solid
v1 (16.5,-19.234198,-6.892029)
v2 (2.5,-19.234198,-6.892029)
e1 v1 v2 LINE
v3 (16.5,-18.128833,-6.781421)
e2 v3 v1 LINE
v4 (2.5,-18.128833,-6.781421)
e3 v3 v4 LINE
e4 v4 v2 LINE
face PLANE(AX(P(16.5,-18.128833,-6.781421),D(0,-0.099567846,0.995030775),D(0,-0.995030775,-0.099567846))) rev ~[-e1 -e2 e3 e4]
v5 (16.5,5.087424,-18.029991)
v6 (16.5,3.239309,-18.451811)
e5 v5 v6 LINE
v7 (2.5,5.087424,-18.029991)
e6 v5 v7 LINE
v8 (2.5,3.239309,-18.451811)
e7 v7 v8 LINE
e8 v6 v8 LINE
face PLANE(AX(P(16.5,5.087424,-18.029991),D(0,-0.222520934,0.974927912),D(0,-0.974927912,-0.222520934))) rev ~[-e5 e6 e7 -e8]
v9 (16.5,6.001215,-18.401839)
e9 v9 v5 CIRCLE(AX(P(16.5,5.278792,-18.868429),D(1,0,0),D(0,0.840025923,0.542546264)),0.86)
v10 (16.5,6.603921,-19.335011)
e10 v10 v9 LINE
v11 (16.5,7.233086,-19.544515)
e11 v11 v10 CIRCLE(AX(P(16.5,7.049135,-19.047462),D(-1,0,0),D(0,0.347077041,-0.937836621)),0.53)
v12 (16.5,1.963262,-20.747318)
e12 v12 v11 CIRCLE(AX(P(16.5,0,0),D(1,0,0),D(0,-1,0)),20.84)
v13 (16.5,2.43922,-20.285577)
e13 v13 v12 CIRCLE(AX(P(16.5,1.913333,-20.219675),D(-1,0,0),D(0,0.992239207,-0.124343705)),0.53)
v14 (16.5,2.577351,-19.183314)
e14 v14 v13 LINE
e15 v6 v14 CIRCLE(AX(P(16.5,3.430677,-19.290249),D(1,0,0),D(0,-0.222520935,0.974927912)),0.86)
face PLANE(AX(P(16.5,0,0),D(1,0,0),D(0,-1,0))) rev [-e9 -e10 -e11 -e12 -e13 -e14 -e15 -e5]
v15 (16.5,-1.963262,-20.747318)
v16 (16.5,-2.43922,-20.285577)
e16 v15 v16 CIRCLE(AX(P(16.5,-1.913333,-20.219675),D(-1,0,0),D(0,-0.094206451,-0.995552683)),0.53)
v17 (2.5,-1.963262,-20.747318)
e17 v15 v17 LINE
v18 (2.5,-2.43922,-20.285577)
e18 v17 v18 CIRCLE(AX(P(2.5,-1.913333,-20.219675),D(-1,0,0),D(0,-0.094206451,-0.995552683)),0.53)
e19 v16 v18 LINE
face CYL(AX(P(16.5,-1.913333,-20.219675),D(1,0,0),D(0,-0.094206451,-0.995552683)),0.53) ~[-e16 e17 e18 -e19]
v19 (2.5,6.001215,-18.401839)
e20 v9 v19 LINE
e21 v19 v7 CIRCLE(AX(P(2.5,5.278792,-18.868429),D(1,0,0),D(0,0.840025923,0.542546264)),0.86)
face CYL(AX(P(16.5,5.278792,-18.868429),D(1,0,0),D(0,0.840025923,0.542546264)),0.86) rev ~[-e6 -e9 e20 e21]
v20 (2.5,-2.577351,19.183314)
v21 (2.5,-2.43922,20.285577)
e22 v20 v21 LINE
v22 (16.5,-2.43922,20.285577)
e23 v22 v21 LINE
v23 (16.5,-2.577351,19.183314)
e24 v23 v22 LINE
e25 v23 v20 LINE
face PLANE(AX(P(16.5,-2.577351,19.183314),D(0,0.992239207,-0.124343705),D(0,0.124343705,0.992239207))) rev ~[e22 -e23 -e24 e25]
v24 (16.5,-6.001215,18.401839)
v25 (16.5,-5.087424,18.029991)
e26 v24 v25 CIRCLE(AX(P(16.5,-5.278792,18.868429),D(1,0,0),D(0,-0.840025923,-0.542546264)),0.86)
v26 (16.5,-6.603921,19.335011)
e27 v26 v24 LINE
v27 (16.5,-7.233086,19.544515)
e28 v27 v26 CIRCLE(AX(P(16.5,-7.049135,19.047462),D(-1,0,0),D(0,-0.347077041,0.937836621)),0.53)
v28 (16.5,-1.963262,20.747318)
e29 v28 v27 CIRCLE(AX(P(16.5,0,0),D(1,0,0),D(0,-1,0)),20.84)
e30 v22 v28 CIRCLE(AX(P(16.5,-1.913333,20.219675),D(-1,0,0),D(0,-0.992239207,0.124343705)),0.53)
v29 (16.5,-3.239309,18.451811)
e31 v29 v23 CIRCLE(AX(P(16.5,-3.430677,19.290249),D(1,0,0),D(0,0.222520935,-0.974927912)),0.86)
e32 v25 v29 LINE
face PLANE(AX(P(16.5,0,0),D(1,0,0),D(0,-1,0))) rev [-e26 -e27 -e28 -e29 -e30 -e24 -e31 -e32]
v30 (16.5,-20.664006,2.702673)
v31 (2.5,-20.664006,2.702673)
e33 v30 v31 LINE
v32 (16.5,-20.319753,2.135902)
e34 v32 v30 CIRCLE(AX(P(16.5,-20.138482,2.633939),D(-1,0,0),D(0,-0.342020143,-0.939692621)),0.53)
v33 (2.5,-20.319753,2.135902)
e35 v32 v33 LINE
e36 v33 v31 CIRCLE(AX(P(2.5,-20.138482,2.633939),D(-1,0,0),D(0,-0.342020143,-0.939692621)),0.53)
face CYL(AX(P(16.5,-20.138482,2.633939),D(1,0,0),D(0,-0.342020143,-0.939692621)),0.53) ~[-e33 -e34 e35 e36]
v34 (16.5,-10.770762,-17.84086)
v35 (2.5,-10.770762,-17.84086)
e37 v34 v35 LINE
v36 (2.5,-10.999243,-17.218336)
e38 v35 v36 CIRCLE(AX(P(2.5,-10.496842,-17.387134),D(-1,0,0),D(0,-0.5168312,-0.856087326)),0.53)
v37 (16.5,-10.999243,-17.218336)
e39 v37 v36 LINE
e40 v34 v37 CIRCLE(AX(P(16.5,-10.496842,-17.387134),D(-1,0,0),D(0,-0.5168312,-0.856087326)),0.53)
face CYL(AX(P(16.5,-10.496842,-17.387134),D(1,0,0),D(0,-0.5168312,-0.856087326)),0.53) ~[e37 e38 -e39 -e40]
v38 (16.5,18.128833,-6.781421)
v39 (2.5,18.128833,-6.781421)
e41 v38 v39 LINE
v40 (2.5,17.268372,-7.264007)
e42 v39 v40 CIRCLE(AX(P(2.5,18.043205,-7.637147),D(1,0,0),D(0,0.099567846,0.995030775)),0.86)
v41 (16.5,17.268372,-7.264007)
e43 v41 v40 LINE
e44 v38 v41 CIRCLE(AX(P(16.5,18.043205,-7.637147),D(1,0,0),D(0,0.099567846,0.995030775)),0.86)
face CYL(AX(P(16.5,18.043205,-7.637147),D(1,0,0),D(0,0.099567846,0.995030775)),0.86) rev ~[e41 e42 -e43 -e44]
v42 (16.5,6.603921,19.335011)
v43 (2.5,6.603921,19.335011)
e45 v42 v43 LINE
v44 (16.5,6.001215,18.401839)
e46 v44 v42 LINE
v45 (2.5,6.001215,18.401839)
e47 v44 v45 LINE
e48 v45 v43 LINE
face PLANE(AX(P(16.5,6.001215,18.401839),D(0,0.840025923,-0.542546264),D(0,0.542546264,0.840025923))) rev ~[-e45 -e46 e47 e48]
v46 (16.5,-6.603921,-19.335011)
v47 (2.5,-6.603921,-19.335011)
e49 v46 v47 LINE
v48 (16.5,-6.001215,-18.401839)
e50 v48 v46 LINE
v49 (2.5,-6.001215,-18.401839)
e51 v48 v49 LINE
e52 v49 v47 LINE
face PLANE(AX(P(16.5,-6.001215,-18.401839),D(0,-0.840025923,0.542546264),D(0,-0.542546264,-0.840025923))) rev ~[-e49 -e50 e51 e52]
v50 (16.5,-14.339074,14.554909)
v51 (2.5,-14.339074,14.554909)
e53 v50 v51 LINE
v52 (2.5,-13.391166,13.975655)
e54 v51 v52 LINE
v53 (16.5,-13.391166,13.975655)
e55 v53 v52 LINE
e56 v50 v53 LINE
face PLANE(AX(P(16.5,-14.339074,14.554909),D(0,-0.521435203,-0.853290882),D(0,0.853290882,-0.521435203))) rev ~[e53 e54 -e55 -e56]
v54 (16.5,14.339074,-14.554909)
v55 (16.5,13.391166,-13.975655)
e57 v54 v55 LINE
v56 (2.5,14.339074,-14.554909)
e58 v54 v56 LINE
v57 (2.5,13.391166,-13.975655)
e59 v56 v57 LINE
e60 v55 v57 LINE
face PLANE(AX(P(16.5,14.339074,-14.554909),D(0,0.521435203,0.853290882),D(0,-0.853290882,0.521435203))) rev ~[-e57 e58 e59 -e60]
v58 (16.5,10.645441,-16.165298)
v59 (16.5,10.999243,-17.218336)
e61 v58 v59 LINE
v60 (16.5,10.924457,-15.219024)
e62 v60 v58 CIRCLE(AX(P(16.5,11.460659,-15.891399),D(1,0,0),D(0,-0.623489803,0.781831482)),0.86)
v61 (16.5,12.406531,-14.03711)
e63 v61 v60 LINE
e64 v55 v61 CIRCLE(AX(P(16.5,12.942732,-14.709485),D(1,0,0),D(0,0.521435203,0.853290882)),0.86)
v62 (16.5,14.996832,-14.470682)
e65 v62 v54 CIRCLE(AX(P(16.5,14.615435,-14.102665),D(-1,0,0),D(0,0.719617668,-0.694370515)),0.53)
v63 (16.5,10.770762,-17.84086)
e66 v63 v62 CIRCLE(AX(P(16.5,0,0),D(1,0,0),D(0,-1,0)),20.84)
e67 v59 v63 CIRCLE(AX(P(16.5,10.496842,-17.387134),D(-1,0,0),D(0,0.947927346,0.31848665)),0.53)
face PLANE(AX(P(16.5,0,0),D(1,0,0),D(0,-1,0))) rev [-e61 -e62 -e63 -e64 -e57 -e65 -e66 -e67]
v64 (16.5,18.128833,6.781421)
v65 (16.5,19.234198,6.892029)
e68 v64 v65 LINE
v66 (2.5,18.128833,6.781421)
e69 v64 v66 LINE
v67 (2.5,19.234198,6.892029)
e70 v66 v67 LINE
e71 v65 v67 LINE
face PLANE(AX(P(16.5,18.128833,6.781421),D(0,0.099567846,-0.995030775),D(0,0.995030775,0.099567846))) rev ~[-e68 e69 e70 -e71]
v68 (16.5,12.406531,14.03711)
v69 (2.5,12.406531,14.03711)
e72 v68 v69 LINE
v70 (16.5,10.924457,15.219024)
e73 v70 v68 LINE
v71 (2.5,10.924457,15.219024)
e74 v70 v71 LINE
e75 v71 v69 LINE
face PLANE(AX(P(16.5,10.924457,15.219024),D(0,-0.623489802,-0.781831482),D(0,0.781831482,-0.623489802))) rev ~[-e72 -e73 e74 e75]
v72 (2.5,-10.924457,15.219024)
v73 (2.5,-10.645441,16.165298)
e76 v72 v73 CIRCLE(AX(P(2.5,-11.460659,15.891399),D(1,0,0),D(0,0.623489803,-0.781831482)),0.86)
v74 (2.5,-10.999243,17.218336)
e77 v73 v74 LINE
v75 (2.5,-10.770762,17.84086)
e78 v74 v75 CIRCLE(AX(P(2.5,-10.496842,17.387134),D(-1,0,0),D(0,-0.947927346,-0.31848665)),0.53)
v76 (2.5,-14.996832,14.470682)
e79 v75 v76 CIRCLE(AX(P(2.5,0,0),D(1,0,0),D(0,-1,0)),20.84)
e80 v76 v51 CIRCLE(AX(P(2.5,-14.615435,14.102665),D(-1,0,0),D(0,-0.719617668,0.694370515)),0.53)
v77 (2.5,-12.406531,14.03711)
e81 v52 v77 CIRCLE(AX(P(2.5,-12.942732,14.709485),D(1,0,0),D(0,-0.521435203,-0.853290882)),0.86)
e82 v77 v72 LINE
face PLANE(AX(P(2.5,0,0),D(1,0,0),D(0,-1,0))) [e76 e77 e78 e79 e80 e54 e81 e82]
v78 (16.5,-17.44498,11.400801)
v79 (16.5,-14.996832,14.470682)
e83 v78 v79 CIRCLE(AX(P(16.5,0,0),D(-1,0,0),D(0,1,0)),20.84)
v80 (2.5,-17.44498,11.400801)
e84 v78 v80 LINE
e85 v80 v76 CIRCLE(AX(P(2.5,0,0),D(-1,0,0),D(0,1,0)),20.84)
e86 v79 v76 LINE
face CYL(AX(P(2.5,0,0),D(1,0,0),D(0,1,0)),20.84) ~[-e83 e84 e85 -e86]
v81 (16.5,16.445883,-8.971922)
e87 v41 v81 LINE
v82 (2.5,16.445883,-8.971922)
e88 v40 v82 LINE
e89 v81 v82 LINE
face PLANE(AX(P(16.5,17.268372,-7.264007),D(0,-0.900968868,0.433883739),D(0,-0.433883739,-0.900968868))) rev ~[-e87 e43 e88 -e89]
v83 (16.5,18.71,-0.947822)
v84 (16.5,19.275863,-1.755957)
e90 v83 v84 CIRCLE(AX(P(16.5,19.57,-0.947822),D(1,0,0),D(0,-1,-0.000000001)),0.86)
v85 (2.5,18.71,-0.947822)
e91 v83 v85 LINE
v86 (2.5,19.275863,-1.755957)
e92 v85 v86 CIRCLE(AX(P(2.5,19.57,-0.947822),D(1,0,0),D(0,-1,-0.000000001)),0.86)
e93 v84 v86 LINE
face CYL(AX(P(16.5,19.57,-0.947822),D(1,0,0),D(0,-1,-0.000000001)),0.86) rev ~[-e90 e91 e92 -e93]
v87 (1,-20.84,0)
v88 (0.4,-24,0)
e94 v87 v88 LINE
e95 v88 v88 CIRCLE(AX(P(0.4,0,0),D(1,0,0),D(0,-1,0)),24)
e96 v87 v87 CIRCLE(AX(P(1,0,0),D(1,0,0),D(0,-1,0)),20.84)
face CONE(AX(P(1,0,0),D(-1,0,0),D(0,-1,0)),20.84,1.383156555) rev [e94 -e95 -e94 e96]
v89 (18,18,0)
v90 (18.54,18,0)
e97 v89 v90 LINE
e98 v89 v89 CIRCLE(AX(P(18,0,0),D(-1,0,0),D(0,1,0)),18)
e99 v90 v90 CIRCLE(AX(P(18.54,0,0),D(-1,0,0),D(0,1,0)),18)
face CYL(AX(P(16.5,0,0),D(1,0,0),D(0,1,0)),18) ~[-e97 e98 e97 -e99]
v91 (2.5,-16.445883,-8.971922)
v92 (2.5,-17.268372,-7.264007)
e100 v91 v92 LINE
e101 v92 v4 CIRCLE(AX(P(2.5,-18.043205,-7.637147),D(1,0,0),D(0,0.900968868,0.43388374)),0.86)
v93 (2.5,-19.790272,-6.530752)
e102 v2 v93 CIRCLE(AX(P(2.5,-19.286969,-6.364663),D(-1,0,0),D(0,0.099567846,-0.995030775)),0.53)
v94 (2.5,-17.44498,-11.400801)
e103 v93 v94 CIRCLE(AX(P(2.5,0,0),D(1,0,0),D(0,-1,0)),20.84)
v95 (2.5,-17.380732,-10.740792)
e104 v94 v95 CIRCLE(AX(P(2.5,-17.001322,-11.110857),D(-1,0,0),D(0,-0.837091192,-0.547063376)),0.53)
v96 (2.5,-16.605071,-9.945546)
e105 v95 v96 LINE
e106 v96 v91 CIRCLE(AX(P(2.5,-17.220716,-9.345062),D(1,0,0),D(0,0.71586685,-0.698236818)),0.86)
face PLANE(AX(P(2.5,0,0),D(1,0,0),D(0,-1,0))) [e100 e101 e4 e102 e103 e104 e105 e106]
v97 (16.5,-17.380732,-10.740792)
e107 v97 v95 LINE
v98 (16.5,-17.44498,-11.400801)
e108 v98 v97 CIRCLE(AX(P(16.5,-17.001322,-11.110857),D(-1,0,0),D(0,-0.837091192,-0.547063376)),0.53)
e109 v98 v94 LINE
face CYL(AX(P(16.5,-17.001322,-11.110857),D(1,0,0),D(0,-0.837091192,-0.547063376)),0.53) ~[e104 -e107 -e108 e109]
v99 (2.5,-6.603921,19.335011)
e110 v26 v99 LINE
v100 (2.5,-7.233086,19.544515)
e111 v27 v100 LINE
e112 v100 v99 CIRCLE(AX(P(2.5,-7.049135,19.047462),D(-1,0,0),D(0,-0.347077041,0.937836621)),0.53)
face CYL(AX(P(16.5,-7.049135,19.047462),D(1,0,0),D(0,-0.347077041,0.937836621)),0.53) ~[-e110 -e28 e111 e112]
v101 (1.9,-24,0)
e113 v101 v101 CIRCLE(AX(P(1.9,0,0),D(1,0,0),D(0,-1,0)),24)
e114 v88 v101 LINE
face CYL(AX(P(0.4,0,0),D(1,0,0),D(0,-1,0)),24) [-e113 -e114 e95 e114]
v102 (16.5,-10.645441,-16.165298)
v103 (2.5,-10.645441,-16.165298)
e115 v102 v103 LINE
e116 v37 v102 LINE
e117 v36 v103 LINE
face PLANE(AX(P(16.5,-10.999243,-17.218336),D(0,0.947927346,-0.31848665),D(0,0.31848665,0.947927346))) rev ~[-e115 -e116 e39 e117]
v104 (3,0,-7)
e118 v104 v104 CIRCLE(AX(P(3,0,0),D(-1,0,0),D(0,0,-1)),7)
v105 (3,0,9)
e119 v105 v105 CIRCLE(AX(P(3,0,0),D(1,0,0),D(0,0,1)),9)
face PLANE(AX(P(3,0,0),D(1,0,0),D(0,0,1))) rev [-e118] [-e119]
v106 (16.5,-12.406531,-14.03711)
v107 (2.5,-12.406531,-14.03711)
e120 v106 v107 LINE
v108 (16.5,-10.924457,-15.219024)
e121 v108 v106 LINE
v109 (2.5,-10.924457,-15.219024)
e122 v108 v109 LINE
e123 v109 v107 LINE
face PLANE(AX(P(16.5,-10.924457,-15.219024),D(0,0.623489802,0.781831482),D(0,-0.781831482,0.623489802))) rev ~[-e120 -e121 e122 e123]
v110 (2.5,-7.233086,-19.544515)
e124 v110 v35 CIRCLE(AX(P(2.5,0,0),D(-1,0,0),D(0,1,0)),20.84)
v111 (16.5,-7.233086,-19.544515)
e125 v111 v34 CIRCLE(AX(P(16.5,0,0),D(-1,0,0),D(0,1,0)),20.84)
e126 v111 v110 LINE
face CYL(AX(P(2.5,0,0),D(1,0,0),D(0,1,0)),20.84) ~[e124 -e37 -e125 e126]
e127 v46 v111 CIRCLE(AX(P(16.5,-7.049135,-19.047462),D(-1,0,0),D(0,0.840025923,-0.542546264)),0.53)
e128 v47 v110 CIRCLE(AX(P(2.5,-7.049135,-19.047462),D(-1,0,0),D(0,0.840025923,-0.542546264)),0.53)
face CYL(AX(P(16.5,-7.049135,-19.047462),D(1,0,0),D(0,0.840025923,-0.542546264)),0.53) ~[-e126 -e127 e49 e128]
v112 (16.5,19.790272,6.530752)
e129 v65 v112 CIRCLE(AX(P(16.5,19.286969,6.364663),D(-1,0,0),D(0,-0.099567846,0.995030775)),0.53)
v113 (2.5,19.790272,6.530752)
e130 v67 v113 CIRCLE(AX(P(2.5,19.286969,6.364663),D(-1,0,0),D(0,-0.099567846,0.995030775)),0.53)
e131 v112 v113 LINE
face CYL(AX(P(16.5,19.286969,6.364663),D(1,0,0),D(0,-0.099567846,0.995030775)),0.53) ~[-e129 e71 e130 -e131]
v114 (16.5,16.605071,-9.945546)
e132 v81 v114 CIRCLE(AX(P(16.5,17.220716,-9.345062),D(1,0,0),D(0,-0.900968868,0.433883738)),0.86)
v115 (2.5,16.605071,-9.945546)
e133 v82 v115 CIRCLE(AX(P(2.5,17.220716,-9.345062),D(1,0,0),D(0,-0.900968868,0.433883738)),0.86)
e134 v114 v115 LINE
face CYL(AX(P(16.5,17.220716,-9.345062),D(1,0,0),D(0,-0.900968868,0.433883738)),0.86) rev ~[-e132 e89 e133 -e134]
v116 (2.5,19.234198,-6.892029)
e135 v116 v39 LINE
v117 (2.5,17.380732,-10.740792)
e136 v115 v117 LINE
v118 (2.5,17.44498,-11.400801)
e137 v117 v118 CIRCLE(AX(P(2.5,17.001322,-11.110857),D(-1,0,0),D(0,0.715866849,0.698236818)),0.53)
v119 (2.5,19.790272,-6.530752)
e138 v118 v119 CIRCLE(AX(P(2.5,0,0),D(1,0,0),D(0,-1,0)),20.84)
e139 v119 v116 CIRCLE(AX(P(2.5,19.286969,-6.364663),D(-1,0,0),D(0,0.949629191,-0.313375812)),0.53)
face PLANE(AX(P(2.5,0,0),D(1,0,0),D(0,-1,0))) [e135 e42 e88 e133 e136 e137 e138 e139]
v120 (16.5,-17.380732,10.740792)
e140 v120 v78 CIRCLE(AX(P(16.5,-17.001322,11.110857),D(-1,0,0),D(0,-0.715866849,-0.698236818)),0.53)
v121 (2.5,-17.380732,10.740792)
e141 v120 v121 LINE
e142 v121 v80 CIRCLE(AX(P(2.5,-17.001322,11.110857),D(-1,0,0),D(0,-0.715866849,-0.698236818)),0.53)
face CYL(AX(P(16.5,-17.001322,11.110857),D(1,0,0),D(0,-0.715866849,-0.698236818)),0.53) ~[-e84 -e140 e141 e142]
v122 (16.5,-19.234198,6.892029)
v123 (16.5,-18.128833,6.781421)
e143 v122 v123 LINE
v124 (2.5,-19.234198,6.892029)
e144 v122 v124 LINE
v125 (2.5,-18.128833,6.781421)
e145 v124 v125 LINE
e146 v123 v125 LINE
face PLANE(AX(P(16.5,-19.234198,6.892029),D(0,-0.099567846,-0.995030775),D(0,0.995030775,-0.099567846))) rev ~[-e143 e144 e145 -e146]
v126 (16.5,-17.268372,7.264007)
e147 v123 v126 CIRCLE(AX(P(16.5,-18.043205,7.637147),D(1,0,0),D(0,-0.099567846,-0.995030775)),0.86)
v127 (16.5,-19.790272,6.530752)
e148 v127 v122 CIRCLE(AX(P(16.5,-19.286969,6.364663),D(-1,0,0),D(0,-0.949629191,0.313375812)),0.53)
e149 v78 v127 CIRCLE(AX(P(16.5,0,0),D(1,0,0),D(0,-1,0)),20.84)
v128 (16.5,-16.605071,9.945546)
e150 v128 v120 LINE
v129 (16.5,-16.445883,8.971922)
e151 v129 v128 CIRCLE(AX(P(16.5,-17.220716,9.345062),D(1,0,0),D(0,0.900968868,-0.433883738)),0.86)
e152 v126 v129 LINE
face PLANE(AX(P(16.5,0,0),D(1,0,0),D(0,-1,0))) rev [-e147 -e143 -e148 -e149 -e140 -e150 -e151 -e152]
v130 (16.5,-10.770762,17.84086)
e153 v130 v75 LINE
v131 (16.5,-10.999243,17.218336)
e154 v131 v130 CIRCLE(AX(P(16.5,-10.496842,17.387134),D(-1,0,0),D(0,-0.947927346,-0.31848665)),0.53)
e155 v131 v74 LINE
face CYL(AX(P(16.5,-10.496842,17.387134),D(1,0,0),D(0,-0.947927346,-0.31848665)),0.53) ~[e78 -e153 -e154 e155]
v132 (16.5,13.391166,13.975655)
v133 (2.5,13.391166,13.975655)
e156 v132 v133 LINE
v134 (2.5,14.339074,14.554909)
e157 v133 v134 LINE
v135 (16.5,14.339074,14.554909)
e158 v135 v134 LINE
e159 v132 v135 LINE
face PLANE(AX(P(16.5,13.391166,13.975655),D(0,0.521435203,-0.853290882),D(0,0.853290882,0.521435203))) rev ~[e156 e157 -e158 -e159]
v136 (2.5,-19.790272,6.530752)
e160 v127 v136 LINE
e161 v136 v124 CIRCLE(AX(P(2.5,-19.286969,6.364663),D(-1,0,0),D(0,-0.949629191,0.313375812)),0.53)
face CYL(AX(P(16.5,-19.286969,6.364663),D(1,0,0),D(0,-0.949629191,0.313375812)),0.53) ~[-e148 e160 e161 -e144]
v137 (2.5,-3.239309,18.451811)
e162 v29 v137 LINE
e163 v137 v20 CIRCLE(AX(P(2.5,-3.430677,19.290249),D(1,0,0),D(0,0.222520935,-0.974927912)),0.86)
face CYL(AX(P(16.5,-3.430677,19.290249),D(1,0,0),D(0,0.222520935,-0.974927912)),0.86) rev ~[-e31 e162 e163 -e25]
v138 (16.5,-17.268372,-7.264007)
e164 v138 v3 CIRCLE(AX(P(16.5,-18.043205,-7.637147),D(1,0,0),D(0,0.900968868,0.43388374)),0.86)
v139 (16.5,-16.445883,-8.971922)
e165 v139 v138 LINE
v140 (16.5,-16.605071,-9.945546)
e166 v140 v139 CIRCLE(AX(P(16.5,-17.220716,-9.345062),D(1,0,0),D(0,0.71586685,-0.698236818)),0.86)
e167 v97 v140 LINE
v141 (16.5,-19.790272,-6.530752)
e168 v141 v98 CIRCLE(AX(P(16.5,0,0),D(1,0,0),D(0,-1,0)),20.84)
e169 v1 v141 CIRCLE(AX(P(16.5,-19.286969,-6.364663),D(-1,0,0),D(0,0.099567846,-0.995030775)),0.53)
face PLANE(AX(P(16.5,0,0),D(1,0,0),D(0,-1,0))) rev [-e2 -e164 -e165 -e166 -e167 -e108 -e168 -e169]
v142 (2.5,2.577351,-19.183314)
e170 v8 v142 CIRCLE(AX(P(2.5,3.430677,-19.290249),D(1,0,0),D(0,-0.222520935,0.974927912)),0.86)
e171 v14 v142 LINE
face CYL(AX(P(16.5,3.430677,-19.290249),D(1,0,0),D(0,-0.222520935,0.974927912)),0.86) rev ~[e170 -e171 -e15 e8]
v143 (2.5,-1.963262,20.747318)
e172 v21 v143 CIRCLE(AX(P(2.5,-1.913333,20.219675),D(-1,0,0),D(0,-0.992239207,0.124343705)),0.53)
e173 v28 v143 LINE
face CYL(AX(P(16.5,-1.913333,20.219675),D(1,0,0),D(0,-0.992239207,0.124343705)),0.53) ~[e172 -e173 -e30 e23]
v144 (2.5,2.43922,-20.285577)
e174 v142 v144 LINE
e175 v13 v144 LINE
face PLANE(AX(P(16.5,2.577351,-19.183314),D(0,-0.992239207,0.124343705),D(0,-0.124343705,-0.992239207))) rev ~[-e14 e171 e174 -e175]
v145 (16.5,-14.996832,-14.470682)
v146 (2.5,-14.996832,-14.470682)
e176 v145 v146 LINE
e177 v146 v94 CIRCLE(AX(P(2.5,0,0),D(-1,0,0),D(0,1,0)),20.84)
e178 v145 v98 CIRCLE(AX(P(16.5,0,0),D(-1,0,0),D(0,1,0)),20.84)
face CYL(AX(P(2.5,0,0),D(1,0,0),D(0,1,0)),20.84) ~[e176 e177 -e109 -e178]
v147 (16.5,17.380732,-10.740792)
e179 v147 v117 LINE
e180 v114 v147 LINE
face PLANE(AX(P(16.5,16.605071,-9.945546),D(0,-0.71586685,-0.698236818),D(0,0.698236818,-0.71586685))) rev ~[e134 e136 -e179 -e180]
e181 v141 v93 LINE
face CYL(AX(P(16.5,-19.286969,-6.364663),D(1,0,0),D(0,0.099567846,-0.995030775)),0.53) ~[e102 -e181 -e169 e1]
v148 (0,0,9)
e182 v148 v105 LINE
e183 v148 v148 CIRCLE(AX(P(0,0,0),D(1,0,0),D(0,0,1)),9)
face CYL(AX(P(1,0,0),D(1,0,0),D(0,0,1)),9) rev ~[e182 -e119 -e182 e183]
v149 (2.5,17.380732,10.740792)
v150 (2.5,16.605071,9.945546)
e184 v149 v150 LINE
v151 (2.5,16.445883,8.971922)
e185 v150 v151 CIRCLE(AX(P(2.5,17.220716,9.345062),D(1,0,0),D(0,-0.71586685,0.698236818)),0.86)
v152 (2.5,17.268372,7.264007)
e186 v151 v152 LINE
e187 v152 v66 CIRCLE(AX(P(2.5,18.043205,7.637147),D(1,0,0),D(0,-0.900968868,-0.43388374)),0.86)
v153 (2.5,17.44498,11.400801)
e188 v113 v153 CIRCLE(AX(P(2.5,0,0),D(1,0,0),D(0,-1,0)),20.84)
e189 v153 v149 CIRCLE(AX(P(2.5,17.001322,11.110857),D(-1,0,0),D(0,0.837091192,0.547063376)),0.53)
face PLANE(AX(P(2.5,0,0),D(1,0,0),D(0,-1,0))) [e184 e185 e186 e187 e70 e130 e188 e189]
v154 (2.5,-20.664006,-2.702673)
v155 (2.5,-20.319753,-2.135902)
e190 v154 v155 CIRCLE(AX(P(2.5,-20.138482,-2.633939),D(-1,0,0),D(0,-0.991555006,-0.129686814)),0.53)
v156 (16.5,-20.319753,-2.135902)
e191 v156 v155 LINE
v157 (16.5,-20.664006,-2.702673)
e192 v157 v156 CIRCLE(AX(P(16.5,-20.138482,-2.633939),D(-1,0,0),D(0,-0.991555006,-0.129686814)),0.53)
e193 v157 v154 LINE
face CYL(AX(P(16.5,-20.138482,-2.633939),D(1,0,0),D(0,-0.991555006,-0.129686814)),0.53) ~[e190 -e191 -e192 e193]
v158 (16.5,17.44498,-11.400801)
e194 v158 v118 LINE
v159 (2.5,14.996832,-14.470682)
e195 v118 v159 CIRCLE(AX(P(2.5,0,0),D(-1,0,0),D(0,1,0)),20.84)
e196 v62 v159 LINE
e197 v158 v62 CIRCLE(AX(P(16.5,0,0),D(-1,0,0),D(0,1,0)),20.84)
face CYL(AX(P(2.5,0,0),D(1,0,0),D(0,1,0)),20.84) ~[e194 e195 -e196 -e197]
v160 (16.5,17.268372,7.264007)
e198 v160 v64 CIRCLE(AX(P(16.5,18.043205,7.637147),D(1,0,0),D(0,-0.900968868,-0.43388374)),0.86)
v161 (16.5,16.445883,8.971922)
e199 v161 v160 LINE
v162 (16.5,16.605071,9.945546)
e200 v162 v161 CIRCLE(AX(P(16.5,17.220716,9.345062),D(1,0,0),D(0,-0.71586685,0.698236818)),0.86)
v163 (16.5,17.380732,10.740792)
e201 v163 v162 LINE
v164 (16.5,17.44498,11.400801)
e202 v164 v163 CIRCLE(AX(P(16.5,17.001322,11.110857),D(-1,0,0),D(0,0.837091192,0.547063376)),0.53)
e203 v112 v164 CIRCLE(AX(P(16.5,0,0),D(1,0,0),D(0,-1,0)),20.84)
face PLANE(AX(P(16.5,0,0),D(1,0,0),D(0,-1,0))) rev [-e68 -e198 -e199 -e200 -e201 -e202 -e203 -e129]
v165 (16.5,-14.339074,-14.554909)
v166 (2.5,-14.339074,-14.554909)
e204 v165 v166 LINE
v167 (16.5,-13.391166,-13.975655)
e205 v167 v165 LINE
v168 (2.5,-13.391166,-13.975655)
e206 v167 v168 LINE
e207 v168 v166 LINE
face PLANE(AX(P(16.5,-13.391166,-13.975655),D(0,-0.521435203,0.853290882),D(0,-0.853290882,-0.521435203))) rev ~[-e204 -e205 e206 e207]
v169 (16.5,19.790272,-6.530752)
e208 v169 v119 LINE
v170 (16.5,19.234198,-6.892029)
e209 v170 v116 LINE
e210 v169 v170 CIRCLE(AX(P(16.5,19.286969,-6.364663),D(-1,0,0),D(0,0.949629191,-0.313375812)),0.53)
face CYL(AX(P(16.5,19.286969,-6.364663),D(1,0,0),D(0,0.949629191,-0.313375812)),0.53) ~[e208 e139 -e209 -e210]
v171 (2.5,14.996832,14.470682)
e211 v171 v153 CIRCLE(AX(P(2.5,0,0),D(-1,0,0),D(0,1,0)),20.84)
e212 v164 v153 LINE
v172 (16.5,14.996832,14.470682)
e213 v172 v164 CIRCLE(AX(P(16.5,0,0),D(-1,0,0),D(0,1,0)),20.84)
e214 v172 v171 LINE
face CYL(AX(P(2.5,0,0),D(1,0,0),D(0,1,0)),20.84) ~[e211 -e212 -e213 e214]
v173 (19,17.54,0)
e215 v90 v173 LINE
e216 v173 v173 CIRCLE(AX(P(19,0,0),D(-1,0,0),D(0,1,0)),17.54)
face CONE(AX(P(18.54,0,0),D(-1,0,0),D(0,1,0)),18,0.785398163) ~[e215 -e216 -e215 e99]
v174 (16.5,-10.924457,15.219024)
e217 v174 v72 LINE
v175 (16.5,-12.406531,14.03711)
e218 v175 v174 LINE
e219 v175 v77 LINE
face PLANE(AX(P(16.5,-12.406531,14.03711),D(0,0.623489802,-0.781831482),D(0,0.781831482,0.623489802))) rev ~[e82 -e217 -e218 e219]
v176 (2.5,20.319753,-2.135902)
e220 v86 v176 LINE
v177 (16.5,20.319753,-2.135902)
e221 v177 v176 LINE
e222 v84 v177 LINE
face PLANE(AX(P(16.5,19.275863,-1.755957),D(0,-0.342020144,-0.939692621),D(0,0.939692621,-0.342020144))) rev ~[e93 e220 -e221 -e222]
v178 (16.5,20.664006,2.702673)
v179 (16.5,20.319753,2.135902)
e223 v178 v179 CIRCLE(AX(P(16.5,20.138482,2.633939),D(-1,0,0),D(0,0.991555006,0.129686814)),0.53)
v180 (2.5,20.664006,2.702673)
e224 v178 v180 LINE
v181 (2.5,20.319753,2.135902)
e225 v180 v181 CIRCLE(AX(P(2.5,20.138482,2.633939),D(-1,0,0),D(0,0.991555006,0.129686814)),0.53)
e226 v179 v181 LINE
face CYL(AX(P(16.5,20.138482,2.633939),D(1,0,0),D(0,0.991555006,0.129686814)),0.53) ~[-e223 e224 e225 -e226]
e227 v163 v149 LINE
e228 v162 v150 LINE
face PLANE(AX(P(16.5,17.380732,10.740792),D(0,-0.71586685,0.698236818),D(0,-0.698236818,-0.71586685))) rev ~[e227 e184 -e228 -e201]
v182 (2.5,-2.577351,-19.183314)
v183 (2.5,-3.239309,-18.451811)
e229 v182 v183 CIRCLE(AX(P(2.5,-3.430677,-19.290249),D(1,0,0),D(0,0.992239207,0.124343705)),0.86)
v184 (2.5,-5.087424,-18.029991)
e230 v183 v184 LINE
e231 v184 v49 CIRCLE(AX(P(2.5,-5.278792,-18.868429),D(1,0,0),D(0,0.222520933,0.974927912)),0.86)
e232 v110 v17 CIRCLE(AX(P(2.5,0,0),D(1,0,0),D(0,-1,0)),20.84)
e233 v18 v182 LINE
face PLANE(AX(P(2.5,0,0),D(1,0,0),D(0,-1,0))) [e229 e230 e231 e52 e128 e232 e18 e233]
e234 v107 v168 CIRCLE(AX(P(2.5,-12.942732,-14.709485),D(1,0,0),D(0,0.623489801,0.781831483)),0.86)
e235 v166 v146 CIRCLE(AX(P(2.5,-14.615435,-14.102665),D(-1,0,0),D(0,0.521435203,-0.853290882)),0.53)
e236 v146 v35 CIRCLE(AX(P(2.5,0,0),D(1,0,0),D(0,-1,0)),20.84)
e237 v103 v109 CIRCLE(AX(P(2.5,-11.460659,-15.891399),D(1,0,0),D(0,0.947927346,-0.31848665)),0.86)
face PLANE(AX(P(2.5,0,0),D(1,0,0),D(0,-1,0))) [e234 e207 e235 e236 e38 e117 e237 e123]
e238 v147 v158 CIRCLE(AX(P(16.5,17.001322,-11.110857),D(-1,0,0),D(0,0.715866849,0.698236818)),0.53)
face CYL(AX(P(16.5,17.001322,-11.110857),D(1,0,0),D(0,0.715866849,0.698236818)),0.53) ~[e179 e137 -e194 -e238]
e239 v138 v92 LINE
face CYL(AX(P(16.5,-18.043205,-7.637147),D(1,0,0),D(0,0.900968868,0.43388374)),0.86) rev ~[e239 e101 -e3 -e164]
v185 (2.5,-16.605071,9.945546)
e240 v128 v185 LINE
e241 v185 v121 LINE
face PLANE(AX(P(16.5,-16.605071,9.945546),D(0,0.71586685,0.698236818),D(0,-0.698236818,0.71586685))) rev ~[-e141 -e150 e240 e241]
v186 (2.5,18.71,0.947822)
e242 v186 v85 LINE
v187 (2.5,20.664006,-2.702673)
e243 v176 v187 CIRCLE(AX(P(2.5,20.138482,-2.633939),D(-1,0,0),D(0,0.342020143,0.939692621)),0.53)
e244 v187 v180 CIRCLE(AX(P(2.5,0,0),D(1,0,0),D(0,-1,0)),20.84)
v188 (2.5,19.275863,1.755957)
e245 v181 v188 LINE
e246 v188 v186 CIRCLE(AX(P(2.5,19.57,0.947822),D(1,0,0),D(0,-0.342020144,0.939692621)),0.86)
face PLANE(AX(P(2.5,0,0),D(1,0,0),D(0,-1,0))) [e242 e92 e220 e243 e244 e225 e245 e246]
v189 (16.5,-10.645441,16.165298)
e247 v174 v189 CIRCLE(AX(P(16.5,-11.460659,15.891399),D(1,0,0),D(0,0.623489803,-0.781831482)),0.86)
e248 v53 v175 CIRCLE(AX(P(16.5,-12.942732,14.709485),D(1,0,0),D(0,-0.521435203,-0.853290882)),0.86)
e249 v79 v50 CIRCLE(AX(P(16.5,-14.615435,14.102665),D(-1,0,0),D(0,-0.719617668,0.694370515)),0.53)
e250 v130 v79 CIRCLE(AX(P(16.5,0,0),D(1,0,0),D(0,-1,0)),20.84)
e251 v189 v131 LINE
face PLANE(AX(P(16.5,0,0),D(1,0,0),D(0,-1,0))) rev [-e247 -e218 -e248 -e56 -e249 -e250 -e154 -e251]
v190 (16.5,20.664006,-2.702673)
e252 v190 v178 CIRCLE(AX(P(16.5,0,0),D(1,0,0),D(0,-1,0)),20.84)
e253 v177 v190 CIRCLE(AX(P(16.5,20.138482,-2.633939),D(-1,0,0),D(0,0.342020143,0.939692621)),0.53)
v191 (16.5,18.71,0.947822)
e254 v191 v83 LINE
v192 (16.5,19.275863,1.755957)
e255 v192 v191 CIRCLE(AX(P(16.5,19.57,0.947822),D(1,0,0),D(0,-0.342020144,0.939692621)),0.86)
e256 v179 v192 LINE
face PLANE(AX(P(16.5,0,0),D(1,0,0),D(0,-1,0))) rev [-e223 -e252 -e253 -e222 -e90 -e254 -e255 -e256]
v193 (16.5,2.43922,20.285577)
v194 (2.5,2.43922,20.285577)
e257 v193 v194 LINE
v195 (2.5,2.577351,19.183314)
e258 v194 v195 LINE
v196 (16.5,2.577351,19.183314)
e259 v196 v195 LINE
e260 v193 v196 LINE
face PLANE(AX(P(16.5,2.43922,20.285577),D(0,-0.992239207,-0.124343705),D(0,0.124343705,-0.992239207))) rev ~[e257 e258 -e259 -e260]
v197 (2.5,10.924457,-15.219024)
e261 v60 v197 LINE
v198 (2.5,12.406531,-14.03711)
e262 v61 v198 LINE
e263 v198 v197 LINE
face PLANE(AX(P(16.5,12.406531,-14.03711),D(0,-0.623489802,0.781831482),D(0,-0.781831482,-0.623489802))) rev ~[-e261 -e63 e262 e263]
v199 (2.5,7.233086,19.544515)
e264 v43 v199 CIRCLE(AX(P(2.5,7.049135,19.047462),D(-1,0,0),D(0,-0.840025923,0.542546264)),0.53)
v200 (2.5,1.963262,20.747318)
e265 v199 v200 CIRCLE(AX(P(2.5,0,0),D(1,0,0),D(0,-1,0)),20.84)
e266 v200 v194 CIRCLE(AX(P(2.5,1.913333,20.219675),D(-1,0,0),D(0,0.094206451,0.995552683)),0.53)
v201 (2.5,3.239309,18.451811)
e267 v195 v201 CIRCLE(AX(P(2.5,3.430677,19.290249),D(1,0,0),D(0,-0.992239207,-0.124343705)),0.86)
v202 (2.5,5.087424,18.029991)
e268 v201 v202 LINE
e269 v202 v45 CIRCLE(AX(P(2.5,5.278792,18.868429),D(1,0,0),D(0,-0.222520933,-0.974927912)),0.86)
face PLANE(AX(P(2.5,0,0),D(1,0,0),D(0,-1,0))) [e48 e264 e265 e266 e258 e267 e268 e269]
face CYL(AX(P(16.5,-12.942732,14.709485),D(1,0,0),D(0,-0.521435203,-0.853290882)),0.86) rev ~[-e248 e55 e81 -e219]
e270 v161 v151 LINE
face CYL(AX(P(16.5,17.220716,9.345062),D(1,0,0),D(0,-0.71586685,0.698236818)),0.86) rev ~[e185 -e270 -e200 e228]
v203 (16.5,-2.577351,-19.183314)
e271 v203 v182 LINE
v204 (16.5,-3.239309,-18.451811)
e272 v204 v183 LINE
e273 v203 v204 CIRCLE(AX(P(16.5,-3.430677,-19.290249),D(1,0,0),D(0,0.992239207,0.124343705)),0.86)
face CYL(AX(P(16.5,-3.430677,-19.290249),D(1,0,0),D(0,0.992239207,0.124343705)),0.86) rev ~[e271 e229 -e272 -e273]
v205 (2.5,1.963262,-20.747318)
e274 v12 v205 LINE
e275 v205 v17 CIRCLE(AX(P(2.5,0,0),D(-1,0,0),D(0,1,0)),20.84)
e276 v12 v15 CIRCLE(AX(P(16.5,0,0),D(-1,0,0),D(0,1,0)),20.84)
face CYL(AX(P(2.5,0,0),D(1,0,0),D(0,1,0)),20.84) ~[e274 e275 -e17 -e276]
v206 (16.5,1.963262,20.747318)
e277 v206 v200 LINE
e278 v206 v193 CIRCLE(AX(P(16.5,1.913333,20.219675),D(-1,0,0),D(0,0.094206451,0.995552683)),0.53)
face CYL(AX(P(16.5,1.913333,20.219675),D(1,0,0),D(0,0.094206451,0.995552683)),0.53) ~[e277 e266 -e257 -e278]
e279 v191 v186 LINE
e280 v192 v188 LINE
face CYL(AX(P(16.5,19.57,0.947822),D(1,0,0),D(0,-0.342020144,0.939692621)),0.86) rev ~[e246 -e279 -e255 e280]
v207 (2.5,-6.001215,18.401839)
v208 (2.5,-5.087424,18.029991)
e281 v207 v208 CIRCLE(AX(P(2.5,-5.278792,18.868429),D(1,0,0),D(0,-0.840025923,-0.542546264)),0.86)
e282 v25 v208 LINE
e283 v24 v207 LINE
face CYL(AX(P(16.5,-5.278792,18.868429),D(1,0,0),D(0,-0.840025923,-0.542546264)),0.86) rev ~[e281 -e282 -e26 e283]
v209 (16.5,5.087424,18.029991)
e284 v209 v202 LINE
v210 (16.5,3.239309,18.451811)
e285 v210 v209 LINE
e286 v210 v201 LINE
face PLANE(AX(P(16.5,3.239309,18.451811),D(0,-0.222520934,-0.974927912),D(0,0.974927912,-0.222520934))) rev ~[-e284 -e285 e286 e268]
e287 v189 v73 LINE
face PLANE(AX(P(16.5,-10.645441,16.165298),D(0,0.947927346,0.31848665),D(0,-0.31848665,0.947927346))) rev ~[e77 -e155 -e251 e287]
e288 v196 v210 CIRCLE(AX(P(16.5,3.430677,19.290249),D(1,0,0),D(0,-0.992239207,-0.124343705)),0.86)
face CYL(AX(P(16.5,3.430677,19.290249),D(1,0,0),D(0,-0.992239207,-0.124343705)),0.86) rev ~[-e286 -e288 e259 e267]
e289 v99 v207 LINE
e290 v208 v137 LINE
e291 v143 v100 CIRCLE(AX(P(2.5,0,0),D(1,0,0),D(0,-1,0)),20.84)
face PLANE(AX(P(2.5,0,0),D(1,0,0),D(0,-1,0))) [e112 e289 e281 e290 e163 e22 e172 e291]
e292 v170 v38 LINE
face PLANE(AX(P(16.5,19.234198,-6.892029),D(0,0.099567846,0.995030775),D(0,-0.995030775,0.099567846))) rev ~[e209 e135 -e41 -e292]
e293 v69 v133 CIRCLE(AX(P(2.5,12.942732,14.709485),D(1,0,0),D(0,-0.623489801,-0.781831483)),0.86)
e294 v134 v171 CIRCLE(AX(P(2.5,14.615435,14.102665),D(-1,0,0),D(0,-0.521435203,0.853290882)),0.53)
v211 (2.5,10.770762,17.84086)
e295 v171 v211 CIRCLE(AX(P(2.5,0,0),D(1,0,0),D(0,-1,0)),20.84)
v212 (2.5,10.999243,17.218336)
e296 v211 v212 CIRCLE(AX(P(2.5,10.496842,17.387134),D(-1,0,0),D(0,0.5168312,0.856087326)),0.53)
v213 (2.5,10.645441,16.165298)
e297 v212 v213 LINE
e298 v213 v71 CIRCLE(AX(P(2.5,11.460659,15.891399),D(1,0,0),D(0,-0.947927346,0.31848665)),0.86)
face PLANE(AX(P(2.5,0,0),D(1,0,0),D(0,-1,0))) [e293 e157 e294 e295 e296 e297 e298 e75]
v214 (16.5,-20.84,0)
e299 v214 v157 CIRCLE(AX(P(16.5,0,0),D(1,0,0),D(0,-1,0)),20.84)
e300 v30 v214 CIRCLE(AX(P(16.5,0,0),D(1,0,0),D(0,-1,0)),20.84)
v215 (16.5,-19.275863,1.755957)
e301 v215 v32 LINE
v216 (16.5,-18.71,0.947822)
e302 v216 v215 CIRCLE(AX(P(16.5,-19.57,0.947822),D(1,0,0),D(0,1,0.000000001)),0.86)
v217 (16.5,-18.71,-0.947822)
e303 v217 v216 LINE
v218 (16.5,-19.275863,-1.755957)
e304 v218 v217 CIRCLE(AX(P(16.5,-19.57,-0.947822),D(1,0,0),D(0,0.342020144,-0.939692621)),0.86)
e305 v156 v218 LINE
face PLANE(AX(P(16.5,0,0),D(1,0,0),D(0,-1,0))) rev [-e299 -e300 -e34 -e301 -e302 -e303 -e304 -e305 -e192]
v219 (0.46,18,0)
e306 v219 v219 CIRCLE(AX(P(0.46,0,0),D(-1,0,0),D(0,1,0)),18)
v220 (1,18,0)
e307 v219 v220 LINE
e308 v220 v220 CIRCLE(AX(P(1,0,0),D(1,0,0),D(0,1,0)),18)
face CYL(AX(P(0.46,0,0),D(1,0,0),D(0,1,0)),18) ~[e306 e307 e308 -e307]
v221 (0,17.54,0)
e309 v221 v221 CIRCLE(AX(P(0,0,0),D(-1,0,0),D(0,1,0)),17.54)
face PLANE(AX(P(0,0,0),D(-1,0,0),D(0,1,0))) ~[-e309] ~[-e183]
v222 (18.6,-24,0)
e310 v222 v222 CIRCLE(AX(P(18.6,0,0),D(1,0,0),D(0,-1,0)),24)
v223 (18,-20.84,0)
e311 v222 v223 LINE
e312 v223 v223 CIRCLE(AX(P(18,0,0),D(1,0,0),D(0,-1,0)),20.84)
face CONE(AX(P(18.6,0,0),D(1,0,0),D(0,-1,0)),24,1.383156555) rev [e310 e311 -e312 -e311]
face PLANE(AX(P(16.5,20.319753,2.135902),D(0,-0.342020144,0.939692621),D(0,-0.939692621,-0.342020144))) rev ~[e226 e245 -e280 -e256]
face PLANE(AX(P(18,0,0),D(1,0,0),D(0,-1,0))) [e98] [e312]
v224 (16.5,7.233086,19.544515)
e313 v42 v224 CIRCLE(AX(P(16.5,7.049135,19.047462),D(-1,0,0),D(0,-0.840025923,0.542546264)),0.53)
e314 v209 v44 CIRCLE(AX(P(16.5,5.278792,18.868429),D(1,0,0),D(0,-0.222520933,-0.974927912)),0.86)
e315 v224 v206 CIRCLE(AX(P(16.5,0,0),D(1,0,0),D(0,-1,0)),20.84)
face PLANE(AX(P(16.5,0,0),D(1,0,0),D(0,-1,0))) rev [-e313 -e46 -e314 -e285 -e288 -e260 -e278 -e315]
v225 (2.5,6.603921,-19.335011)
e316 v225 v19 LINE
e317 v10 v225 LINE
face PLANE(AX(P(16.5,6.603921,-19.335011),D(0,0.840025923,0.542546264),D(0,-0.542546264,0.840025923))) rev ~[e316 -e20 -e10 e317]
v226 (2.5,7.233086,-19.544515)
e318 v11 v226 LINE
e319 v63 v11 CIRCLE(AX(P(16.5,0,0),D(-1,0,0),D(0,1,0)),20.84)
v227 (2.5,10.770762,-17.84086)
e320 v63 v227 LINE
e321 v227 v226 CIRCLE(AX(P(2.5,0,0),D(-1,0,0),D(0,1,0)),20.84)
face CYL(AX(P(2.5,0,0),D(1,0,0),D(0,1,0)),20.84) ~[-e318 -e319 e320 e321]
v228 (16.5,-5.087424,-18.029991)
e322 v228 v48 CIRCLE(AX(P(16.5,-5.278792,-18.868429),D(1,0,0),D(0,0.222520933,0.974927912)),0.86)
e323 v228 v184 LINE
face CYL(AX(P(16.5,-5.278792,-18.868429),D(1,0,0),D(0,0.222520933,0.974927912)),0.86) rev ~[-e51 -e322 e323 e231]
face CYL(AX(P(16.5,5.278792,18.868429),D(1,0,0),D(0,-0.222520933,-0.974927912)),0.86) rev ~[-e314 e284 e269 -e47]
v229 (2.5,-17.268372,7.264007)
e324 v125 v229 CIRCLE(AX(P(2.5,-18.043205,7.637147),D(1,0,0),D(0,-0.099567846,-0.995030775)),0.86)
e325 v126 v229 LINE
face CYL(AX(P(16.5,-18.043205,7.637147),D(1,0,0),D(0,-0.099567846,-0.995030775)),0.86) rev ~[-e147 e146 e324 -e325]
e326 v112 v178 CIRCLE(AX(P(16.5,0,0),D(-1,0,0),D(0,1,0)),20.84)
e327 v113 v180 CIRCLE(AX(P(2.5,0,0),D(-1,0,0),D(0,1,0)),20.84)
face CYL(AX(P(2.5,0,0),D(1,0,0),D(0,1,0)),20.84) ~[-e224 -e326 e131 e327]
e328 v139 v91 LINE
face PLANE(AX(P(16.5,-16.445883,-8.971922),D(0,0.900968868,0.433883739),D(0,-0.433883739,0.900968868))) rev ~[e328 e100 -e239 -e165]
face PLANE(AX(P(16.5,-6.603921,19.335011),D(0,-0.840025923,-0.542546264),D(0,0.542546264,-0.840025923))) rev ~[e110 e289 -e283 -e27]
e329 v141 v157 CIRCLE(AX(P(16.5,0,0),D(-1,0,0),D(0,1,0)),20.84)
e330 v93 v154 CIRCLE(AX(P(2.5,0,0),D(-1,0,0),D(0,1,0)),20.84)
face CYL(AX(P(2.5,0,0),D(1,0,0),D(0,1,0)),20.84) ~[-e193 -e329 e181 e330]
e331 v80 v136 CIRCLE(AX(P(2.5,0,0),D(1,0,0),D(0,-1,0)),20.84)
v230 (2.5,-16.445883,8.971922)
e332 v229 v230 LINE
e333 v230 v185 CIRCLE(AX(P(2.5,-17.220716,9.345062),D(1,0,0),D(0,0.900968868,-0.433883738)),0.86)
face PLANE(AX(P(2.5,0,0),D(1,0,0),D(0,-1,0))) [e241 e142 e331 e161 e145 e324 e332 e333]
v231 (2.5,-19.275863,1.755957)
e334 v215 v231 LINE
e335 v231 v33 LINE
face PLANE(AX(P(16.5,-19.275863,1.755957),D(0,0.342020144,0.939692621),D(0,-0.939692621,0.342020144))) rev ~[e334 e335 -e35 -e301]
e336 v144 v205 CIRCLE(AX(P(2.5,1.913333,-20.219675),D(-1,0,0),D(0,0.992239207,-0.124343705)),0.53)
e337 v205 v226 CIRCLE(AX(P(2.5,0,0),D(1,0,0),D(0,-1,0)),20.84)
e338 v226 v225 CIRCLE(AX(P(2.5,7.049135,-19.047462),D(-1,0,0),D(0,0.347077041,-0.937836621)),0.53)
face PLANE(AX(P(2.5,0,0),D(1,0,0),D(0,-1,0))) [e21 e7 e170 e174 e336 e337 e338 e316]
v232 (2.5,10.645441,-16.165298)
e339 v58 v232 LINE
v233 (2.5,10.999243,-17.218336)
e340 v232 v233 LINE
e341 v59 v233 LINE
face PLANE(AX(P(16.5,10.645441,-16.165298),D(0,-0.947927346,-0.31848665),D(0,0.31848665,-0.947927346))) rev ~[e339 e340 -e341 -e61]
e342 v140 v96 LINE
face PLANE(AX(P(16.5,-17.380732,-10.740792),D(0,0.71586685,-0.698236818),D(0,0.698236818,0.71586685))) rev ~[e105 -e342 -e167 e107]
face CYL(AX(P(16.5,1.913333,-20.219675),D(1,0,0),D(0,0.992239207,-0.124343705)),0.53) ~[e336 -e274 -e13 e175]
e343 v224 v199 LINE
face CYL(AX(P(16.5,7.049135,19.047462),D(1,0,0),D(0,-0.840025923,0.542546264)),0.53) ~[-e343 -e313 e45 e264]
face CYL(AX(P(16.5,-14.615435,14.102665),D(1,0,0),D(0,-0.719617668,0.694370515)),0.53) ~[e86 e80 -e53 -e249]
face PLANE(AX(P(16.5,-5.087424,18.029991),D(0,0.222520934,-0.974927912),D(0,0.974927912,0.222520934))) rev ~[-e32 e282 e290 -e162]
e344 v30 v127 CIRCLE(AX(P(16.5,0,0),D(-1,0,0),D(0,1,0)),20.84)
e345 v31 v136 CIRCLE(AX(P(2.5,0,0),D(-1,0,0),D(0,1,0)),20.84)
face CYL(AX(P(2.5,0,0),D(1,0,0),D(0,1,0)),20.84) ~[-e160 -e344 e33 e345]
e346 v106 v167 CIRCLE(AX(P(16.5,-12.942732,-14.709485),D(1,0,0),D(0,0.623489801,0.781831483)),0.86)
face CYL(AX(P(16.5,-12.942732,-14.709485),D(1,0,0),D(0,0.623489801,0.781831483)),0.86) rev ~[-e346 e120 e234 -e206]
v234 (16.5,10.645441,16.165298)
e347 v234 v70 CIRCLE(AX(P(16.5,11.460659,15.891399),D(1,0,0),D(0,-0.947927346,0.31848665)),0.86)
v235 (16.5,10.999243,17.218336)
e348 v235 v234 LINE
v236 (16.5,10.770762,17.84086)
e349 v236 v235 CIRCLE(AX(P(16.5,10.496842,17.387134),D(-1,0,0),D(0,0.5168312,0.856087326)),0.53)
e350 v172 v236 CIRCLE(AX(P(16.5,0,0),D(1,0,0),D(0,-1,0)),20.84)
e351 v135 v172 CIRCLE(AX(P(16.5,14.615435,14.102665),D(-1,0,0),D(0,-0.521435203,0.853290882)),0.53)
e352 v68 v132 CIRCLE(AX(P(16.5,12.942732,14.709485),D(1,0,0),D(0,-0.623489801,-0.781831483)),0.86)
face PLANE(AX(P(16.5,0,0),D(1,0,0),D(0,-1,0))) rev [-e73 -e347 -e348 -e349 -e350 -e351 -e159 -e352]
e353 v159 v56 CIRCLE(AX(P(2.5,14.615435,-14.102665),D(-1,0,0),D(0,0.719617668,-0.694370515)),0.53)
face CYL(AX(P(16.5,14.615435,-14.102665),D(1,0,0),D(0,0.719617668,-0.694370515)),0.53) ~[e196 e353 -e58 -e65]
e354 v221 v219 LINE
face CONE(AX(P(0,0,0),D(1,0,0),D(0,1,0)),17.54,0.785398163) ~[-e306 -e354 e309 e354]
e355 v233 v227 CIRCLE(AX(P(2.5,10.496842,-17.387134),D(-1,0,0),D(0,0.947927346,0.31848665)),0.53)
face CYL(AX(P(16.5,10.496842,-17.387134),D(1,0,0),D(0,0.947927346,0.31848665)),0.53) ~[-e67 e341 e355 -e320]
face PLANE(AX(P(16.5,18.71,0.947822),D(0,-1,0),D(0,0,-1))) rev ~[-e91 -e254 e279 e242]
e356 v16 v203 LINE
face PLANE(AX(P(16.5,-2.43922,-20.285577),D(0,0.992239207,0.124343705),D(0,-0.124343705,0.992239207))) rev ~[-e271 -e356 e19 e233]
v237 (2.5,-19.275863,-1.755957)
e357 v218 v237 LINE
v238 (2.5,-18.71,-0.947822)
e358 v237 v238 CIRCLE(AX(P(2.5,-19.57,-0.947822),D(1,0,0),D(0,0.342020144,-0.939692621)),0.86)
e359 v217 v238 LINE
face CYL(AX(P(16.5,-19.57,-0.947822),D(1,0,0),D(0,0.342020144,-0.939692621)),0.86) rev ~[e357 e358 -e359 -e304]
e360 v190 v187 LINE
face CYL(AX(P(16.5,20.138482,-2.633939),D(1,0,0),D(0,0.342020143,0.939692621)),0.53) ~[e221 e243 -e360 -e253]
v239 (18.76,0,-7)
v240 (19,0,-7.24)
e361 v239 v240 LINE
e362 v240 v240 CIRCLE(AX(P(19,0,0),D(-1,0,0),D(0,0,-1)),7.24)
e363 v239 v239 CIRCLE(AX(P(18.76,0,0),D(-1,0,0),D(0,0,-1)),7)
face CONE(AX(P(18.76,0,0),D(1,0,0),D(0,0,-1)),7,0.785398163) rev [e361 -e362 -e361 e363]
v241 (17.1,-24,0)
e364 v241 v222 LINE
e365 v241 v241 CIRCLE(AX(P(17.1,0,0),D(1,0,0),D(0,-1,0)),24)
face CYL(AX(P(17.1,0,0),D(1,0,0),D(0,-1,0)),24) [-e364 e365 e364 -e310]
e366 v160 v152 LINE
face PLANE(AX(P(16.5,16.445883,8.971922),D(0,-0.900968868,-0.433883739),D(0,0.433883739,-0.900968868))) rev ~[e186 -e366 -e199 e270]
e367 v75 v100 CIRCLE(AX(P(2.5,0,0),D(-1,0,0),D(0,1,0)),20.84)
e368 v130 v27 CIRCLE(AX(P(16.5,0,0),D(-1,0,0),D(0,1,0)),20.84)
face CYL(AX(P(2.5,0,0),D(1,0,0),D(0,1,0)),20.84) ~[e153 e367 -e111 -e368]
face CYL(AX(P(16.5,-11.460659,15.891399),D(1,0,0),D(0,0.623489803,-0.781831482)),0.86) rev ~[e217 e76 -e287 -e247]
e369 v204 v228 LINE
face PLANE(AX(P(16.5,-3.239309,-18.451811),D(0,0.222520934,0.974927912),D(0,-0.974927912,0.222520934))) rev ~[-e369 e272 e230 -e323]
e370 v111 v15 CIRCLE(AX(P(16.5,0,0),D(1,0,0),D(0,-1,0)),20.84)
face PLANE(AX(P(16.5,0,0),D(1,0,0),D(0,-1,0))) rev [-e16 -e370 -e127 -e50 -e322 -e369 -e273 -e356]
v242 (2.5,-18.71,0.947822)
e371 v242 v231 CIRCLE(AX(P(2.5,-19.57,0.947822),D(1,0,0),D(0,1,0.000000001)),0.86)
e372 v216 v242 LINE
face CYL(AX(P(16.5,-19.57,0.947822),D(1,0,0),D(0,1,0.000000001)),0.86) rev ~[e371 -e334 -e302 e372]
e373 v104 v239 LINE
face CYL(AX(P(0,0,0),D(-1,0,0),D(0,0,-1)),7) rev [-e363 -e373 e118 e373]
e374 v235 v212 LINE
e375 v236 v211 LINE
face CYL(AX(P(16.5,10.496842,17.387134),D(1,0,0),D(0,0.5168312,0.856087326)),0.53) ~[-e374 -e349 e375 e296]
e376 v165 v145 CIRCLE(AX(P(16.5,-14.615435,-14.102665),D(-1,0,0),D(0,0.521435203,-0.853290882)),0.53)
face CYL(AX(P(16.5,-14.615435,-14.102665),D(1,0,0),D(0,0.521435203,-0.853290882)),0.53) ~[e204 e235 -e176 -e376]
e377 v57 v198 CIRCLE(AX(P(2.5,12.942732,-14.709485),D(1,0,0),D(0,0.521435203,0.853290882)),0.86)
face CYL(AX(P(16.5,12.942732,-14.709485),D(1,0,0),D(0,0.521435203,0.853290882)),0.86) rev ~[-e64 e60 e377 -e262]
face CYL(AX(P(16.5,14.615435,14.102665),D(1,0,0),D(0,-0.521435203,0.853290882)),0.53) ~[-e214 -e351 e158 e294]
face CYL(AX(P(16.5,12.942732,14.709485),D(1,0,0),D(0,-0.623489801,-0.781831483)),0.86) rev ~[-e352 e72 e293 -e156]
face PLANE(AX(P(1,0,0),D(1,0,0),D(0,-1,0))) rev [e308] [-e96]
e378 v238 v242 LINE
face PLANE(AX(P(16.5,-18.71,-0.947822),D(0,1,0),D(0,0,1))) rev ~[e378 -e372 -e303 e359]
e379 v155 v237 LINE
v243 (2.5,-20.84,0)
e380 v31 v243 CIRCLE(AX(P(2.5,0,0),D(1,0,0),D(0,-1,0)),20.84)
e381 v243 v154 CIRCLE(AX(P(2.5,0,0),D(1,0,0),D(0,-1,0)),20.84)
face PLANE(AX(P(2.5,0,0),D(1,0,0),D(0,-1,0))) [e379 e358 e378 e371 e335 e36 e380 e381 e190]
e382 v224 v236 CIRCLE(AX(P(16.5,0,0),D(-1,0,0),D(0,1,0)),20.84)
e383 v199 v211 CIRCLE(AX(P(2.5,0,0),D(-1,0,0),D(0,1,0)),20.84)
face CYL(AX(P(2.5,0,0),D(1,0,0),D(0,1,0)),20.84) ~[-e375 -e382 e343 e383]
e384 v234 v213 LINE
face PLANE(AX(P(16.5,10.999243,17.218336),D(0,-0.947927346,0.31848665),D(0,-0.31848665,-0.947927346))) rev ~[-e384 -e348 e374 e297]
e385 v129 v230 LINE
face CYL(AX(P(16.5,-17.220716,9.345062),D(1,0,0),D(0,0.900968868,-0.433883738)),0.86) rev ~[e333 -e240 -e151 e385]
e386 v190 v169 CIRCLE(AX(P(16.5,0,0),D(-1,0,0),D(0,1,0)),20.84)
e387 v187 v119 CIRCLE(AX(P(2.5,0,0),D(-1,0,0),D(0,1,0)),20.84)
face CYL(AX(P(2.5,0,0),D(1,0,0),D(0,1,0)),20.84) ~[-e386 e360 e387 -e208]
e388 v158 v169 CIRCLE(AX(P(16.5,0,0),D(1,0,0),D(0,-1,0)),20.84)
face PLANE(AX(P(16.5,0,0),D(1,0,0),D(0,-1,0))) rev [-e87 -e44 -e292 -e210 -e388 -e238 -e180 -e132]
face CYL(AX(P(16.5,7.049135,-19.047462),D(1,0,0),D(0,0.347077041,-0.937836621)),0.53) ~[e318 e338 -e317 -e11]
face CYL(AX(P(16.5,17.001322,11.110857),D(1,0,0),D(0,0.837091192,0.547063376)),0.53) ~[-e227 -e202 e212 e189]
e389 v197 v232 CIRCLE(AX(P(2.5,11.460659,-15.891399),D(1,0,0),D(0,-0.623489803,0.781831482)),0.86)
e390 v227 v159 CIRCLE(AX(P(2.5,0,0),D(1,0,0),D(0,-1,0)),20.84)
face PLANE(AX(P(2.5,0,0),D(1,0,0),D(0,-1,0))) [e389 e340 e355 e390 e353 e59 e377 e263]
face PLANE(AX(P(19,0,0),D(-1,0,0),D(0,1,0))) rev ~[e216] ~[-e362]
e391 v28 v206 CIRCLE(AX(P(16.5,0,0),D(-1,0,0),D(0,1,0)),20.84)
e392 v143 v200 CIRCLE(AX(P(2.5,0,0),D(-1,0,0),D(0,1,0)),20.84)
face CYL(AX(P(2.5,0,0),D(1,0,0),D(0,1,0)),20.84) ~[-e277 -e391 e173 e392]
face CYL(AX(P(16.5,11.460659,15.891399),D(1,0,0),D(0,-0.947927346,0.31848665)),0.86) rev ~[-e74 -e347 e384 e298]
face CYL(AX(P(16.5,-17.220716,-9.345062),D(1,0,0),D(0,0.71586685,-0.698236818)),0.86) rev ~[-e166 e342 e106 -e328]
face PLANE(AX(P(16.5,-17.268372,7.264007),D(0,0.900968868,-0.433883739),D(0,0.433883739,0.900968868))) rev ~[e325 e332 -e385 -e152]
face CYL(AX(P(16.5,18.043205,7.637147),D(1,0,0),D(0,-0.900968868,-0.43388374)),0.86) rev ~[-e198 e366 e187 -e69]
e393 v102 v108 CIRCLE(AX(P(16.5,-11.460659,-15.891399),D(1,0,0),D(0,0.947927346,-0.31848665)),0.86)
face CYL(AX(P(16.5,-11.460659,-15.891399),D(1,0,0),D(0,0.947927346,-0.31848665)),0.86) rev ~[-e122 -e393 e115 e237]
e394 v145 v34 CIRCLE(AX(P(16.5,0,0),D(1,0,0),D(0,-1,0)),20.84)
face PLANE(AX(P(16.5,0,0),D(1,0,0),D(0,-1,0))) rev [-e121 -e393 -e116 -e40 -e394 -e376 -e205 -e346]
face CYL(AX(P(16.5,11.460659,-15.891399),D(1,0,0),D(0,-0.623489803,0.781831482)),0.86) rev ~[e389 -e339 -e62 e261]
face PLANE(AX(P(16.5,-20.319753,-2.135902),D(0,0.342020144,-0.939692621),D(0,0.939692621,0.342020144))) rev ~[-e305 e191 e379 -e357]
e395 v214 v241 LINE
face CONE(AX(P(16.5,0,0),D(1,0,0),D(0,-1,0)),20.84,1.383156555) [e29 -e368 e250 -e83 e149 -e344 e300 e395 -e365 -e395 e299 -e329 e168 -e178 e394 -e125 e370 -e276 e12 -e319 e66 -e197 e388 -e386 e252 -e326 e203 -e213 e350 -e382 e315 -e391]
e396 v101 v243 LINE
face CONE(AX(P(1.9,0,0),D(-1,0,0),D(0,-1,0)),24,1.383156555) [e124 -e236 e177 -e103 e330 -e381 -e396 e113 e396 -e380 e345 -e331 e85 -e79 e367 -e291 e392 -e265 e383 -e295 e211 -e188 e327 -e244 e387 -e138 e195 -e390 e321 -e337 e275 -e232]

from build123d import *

# Parameters (mm, degrees)
CUT_EXTRUDE_START        = 16.5
CUT_EXTRUDE_1_DEPTH      = 14
PATTERN_CIRCULAR_1_COUNT = 14
SKETCH_6_R               = 7
CUT_EXTRUDE_2_DEPTH      = 39.897300678
CHAMFER_1_SIZE           = 0.24
SKETCH_8_W               = 4
SKETCH_8_H               = 9
SKETCH_8_3_W             = 4
SKETCH_8_3_H             = 9


with BuildPart() as part:
    # 草图3 → 旋转1 (revolve)
    with BuildSketch(Plane.XY):
        Polygon((0, 0), (0, 17.54), (0.46, 18), (2.5, 18), (2.5, 20.84), (16.5, 20.84), (16.5, 18), (18.54, 18), (19, 17.54), (19, 0), align=None)
    revolve(axis=Axis((19, 0, 0), (-1, 0, 0)))

    # 草图4 → Cut-Extrude 1 (cut)
    with BuildSketch(Plane(origin=(0, 0, 0), x_dir=(0, 0, -1), z_dir=(1, 0, 0)).offset(CUT_EXTRUDE_START)):
        with BuildLine():
            Line((-0.947821517, 18.71), (0.947821517, 18.71))
            ThreePointArc((0.947821517, 18.71), (1.441097252, 18.865529242), (1.755957171, 19.275862677))
            Line((1.755957171, 19.275862677), (2.135902122, 20.319752849))
            ThreePointArc((2.135902122, 20.319752849), (2.358797616, 20.591469041), (2.702673222, 20.664006326))
            ThreePointArc((2.702673222, 20.664006326), (0, 20.84), (-2.702673222, 20.664006326))
            ThreePointArc((-2.702673222, 20.664006326), (-2.358797616, 20.591469041), (-2.135902122, 20.319752849))
            Line((-2.135902122, 20.319752849), (-1.755957171, 19.275862677))
            ThreePointArc((-1.755957171, 19.275862677), (-1.441097252, 18.865529242), (-0.947821517, 18.71))
        make_face()
    cut_extrude_1 = extrude(amount=-CUT_EXTRUDE_1_DEPTH, mode=Mode.SUBTRACT)

    # 阵列(圆周)1: Cut-Extrude 1 ×14 about axis
    pattern_circular_1_axis = Axis((0, 0, 0), (1, 0, 0))
    for i in range(1, PATTERN_CIRCULAR_1_COUNT):
        add(cut_extrude_1.rotate(pattern_circular_1_axis, i * 360 / PATTERN_CIRCULAR_1_COUNT), mode=Mode.SUBTRACT)

    # 草图5 → 旋转2 (revolve)
    with BuildSketch(Plane.XY, mode=Mode.PRIVATE) as revolve_2_sk:
        Polygon((1.9, 24), (2.5, 20.84), (2.5, 18), (1, 18), (1, 20.84), (0.4, 24), align=None)
        Polygon((18, 18), (16.5, 18), (16.5, 20.84), (17.1, 24), (18.6, 24), (18, 20.84), align=None)
    revolve(revolve_2_sk.sketch.rotate(Axis((0, 0, 0), (1, 0, 0)), 180), axis=Axis((0, 0, 0), (1, 0, 0)))

    # 草图6 → 切除-拉伸2 (cut, through all)
    with BuildSketch(Plane(origin=(0, 0, 0), x_dir=(0, 0, -1), z_dir=(1, 0, 0))):
        Circle(SKETCH_6_R)
    extrude(amount=CUT_EXTRUDE_2_DEPTH, mode=Mode.SUBTRACT)

    # 倒角1
    chamfer_1_edges = [part.edges().sort_by_distance(p)[0] for p in [
        (0, 0, 7),
        (19, 0, 7),
    ]]
    chamfer(chamfer_1_edges, length=CHAMFER_1_SIZE)

    # 草图8 → 旋转3 (revolve)
    with BuildSketch(Plane.XY, mode=Mode.PRIVATE) as revolve_3_sk:
        with Locations((1, 4.5)):
            Rectangle(SKETCH_8_W, SKETCH_8_H)
    revolve(revolve_3_sk.sketch.rotate(Axis((-1, 0, 0), (1, 0, 0)), 90), axis=Axis((-1, 0, 0), (1, 0, 0)))

    # 草图8<3> → 切除-旋转4 (revolve, cut)
    with BuildSketch(Plane.XY, mode=Mode.PRIVATE) as cut_revolve_4_sk:
        with Locations((1, 4.5)):
            Rectangle(SKETCH_8_3_W, SKETCH_8_3_H)
    revolve(cut_revolve_4_sk.sketch.rotate(Axis((-1, 0, 0), (1, 0, 0)), 90), axis=Axis((-1, 0, 0), (1, 0, 0)), mode=Mode.SUBTRACT)


solid = part.part
